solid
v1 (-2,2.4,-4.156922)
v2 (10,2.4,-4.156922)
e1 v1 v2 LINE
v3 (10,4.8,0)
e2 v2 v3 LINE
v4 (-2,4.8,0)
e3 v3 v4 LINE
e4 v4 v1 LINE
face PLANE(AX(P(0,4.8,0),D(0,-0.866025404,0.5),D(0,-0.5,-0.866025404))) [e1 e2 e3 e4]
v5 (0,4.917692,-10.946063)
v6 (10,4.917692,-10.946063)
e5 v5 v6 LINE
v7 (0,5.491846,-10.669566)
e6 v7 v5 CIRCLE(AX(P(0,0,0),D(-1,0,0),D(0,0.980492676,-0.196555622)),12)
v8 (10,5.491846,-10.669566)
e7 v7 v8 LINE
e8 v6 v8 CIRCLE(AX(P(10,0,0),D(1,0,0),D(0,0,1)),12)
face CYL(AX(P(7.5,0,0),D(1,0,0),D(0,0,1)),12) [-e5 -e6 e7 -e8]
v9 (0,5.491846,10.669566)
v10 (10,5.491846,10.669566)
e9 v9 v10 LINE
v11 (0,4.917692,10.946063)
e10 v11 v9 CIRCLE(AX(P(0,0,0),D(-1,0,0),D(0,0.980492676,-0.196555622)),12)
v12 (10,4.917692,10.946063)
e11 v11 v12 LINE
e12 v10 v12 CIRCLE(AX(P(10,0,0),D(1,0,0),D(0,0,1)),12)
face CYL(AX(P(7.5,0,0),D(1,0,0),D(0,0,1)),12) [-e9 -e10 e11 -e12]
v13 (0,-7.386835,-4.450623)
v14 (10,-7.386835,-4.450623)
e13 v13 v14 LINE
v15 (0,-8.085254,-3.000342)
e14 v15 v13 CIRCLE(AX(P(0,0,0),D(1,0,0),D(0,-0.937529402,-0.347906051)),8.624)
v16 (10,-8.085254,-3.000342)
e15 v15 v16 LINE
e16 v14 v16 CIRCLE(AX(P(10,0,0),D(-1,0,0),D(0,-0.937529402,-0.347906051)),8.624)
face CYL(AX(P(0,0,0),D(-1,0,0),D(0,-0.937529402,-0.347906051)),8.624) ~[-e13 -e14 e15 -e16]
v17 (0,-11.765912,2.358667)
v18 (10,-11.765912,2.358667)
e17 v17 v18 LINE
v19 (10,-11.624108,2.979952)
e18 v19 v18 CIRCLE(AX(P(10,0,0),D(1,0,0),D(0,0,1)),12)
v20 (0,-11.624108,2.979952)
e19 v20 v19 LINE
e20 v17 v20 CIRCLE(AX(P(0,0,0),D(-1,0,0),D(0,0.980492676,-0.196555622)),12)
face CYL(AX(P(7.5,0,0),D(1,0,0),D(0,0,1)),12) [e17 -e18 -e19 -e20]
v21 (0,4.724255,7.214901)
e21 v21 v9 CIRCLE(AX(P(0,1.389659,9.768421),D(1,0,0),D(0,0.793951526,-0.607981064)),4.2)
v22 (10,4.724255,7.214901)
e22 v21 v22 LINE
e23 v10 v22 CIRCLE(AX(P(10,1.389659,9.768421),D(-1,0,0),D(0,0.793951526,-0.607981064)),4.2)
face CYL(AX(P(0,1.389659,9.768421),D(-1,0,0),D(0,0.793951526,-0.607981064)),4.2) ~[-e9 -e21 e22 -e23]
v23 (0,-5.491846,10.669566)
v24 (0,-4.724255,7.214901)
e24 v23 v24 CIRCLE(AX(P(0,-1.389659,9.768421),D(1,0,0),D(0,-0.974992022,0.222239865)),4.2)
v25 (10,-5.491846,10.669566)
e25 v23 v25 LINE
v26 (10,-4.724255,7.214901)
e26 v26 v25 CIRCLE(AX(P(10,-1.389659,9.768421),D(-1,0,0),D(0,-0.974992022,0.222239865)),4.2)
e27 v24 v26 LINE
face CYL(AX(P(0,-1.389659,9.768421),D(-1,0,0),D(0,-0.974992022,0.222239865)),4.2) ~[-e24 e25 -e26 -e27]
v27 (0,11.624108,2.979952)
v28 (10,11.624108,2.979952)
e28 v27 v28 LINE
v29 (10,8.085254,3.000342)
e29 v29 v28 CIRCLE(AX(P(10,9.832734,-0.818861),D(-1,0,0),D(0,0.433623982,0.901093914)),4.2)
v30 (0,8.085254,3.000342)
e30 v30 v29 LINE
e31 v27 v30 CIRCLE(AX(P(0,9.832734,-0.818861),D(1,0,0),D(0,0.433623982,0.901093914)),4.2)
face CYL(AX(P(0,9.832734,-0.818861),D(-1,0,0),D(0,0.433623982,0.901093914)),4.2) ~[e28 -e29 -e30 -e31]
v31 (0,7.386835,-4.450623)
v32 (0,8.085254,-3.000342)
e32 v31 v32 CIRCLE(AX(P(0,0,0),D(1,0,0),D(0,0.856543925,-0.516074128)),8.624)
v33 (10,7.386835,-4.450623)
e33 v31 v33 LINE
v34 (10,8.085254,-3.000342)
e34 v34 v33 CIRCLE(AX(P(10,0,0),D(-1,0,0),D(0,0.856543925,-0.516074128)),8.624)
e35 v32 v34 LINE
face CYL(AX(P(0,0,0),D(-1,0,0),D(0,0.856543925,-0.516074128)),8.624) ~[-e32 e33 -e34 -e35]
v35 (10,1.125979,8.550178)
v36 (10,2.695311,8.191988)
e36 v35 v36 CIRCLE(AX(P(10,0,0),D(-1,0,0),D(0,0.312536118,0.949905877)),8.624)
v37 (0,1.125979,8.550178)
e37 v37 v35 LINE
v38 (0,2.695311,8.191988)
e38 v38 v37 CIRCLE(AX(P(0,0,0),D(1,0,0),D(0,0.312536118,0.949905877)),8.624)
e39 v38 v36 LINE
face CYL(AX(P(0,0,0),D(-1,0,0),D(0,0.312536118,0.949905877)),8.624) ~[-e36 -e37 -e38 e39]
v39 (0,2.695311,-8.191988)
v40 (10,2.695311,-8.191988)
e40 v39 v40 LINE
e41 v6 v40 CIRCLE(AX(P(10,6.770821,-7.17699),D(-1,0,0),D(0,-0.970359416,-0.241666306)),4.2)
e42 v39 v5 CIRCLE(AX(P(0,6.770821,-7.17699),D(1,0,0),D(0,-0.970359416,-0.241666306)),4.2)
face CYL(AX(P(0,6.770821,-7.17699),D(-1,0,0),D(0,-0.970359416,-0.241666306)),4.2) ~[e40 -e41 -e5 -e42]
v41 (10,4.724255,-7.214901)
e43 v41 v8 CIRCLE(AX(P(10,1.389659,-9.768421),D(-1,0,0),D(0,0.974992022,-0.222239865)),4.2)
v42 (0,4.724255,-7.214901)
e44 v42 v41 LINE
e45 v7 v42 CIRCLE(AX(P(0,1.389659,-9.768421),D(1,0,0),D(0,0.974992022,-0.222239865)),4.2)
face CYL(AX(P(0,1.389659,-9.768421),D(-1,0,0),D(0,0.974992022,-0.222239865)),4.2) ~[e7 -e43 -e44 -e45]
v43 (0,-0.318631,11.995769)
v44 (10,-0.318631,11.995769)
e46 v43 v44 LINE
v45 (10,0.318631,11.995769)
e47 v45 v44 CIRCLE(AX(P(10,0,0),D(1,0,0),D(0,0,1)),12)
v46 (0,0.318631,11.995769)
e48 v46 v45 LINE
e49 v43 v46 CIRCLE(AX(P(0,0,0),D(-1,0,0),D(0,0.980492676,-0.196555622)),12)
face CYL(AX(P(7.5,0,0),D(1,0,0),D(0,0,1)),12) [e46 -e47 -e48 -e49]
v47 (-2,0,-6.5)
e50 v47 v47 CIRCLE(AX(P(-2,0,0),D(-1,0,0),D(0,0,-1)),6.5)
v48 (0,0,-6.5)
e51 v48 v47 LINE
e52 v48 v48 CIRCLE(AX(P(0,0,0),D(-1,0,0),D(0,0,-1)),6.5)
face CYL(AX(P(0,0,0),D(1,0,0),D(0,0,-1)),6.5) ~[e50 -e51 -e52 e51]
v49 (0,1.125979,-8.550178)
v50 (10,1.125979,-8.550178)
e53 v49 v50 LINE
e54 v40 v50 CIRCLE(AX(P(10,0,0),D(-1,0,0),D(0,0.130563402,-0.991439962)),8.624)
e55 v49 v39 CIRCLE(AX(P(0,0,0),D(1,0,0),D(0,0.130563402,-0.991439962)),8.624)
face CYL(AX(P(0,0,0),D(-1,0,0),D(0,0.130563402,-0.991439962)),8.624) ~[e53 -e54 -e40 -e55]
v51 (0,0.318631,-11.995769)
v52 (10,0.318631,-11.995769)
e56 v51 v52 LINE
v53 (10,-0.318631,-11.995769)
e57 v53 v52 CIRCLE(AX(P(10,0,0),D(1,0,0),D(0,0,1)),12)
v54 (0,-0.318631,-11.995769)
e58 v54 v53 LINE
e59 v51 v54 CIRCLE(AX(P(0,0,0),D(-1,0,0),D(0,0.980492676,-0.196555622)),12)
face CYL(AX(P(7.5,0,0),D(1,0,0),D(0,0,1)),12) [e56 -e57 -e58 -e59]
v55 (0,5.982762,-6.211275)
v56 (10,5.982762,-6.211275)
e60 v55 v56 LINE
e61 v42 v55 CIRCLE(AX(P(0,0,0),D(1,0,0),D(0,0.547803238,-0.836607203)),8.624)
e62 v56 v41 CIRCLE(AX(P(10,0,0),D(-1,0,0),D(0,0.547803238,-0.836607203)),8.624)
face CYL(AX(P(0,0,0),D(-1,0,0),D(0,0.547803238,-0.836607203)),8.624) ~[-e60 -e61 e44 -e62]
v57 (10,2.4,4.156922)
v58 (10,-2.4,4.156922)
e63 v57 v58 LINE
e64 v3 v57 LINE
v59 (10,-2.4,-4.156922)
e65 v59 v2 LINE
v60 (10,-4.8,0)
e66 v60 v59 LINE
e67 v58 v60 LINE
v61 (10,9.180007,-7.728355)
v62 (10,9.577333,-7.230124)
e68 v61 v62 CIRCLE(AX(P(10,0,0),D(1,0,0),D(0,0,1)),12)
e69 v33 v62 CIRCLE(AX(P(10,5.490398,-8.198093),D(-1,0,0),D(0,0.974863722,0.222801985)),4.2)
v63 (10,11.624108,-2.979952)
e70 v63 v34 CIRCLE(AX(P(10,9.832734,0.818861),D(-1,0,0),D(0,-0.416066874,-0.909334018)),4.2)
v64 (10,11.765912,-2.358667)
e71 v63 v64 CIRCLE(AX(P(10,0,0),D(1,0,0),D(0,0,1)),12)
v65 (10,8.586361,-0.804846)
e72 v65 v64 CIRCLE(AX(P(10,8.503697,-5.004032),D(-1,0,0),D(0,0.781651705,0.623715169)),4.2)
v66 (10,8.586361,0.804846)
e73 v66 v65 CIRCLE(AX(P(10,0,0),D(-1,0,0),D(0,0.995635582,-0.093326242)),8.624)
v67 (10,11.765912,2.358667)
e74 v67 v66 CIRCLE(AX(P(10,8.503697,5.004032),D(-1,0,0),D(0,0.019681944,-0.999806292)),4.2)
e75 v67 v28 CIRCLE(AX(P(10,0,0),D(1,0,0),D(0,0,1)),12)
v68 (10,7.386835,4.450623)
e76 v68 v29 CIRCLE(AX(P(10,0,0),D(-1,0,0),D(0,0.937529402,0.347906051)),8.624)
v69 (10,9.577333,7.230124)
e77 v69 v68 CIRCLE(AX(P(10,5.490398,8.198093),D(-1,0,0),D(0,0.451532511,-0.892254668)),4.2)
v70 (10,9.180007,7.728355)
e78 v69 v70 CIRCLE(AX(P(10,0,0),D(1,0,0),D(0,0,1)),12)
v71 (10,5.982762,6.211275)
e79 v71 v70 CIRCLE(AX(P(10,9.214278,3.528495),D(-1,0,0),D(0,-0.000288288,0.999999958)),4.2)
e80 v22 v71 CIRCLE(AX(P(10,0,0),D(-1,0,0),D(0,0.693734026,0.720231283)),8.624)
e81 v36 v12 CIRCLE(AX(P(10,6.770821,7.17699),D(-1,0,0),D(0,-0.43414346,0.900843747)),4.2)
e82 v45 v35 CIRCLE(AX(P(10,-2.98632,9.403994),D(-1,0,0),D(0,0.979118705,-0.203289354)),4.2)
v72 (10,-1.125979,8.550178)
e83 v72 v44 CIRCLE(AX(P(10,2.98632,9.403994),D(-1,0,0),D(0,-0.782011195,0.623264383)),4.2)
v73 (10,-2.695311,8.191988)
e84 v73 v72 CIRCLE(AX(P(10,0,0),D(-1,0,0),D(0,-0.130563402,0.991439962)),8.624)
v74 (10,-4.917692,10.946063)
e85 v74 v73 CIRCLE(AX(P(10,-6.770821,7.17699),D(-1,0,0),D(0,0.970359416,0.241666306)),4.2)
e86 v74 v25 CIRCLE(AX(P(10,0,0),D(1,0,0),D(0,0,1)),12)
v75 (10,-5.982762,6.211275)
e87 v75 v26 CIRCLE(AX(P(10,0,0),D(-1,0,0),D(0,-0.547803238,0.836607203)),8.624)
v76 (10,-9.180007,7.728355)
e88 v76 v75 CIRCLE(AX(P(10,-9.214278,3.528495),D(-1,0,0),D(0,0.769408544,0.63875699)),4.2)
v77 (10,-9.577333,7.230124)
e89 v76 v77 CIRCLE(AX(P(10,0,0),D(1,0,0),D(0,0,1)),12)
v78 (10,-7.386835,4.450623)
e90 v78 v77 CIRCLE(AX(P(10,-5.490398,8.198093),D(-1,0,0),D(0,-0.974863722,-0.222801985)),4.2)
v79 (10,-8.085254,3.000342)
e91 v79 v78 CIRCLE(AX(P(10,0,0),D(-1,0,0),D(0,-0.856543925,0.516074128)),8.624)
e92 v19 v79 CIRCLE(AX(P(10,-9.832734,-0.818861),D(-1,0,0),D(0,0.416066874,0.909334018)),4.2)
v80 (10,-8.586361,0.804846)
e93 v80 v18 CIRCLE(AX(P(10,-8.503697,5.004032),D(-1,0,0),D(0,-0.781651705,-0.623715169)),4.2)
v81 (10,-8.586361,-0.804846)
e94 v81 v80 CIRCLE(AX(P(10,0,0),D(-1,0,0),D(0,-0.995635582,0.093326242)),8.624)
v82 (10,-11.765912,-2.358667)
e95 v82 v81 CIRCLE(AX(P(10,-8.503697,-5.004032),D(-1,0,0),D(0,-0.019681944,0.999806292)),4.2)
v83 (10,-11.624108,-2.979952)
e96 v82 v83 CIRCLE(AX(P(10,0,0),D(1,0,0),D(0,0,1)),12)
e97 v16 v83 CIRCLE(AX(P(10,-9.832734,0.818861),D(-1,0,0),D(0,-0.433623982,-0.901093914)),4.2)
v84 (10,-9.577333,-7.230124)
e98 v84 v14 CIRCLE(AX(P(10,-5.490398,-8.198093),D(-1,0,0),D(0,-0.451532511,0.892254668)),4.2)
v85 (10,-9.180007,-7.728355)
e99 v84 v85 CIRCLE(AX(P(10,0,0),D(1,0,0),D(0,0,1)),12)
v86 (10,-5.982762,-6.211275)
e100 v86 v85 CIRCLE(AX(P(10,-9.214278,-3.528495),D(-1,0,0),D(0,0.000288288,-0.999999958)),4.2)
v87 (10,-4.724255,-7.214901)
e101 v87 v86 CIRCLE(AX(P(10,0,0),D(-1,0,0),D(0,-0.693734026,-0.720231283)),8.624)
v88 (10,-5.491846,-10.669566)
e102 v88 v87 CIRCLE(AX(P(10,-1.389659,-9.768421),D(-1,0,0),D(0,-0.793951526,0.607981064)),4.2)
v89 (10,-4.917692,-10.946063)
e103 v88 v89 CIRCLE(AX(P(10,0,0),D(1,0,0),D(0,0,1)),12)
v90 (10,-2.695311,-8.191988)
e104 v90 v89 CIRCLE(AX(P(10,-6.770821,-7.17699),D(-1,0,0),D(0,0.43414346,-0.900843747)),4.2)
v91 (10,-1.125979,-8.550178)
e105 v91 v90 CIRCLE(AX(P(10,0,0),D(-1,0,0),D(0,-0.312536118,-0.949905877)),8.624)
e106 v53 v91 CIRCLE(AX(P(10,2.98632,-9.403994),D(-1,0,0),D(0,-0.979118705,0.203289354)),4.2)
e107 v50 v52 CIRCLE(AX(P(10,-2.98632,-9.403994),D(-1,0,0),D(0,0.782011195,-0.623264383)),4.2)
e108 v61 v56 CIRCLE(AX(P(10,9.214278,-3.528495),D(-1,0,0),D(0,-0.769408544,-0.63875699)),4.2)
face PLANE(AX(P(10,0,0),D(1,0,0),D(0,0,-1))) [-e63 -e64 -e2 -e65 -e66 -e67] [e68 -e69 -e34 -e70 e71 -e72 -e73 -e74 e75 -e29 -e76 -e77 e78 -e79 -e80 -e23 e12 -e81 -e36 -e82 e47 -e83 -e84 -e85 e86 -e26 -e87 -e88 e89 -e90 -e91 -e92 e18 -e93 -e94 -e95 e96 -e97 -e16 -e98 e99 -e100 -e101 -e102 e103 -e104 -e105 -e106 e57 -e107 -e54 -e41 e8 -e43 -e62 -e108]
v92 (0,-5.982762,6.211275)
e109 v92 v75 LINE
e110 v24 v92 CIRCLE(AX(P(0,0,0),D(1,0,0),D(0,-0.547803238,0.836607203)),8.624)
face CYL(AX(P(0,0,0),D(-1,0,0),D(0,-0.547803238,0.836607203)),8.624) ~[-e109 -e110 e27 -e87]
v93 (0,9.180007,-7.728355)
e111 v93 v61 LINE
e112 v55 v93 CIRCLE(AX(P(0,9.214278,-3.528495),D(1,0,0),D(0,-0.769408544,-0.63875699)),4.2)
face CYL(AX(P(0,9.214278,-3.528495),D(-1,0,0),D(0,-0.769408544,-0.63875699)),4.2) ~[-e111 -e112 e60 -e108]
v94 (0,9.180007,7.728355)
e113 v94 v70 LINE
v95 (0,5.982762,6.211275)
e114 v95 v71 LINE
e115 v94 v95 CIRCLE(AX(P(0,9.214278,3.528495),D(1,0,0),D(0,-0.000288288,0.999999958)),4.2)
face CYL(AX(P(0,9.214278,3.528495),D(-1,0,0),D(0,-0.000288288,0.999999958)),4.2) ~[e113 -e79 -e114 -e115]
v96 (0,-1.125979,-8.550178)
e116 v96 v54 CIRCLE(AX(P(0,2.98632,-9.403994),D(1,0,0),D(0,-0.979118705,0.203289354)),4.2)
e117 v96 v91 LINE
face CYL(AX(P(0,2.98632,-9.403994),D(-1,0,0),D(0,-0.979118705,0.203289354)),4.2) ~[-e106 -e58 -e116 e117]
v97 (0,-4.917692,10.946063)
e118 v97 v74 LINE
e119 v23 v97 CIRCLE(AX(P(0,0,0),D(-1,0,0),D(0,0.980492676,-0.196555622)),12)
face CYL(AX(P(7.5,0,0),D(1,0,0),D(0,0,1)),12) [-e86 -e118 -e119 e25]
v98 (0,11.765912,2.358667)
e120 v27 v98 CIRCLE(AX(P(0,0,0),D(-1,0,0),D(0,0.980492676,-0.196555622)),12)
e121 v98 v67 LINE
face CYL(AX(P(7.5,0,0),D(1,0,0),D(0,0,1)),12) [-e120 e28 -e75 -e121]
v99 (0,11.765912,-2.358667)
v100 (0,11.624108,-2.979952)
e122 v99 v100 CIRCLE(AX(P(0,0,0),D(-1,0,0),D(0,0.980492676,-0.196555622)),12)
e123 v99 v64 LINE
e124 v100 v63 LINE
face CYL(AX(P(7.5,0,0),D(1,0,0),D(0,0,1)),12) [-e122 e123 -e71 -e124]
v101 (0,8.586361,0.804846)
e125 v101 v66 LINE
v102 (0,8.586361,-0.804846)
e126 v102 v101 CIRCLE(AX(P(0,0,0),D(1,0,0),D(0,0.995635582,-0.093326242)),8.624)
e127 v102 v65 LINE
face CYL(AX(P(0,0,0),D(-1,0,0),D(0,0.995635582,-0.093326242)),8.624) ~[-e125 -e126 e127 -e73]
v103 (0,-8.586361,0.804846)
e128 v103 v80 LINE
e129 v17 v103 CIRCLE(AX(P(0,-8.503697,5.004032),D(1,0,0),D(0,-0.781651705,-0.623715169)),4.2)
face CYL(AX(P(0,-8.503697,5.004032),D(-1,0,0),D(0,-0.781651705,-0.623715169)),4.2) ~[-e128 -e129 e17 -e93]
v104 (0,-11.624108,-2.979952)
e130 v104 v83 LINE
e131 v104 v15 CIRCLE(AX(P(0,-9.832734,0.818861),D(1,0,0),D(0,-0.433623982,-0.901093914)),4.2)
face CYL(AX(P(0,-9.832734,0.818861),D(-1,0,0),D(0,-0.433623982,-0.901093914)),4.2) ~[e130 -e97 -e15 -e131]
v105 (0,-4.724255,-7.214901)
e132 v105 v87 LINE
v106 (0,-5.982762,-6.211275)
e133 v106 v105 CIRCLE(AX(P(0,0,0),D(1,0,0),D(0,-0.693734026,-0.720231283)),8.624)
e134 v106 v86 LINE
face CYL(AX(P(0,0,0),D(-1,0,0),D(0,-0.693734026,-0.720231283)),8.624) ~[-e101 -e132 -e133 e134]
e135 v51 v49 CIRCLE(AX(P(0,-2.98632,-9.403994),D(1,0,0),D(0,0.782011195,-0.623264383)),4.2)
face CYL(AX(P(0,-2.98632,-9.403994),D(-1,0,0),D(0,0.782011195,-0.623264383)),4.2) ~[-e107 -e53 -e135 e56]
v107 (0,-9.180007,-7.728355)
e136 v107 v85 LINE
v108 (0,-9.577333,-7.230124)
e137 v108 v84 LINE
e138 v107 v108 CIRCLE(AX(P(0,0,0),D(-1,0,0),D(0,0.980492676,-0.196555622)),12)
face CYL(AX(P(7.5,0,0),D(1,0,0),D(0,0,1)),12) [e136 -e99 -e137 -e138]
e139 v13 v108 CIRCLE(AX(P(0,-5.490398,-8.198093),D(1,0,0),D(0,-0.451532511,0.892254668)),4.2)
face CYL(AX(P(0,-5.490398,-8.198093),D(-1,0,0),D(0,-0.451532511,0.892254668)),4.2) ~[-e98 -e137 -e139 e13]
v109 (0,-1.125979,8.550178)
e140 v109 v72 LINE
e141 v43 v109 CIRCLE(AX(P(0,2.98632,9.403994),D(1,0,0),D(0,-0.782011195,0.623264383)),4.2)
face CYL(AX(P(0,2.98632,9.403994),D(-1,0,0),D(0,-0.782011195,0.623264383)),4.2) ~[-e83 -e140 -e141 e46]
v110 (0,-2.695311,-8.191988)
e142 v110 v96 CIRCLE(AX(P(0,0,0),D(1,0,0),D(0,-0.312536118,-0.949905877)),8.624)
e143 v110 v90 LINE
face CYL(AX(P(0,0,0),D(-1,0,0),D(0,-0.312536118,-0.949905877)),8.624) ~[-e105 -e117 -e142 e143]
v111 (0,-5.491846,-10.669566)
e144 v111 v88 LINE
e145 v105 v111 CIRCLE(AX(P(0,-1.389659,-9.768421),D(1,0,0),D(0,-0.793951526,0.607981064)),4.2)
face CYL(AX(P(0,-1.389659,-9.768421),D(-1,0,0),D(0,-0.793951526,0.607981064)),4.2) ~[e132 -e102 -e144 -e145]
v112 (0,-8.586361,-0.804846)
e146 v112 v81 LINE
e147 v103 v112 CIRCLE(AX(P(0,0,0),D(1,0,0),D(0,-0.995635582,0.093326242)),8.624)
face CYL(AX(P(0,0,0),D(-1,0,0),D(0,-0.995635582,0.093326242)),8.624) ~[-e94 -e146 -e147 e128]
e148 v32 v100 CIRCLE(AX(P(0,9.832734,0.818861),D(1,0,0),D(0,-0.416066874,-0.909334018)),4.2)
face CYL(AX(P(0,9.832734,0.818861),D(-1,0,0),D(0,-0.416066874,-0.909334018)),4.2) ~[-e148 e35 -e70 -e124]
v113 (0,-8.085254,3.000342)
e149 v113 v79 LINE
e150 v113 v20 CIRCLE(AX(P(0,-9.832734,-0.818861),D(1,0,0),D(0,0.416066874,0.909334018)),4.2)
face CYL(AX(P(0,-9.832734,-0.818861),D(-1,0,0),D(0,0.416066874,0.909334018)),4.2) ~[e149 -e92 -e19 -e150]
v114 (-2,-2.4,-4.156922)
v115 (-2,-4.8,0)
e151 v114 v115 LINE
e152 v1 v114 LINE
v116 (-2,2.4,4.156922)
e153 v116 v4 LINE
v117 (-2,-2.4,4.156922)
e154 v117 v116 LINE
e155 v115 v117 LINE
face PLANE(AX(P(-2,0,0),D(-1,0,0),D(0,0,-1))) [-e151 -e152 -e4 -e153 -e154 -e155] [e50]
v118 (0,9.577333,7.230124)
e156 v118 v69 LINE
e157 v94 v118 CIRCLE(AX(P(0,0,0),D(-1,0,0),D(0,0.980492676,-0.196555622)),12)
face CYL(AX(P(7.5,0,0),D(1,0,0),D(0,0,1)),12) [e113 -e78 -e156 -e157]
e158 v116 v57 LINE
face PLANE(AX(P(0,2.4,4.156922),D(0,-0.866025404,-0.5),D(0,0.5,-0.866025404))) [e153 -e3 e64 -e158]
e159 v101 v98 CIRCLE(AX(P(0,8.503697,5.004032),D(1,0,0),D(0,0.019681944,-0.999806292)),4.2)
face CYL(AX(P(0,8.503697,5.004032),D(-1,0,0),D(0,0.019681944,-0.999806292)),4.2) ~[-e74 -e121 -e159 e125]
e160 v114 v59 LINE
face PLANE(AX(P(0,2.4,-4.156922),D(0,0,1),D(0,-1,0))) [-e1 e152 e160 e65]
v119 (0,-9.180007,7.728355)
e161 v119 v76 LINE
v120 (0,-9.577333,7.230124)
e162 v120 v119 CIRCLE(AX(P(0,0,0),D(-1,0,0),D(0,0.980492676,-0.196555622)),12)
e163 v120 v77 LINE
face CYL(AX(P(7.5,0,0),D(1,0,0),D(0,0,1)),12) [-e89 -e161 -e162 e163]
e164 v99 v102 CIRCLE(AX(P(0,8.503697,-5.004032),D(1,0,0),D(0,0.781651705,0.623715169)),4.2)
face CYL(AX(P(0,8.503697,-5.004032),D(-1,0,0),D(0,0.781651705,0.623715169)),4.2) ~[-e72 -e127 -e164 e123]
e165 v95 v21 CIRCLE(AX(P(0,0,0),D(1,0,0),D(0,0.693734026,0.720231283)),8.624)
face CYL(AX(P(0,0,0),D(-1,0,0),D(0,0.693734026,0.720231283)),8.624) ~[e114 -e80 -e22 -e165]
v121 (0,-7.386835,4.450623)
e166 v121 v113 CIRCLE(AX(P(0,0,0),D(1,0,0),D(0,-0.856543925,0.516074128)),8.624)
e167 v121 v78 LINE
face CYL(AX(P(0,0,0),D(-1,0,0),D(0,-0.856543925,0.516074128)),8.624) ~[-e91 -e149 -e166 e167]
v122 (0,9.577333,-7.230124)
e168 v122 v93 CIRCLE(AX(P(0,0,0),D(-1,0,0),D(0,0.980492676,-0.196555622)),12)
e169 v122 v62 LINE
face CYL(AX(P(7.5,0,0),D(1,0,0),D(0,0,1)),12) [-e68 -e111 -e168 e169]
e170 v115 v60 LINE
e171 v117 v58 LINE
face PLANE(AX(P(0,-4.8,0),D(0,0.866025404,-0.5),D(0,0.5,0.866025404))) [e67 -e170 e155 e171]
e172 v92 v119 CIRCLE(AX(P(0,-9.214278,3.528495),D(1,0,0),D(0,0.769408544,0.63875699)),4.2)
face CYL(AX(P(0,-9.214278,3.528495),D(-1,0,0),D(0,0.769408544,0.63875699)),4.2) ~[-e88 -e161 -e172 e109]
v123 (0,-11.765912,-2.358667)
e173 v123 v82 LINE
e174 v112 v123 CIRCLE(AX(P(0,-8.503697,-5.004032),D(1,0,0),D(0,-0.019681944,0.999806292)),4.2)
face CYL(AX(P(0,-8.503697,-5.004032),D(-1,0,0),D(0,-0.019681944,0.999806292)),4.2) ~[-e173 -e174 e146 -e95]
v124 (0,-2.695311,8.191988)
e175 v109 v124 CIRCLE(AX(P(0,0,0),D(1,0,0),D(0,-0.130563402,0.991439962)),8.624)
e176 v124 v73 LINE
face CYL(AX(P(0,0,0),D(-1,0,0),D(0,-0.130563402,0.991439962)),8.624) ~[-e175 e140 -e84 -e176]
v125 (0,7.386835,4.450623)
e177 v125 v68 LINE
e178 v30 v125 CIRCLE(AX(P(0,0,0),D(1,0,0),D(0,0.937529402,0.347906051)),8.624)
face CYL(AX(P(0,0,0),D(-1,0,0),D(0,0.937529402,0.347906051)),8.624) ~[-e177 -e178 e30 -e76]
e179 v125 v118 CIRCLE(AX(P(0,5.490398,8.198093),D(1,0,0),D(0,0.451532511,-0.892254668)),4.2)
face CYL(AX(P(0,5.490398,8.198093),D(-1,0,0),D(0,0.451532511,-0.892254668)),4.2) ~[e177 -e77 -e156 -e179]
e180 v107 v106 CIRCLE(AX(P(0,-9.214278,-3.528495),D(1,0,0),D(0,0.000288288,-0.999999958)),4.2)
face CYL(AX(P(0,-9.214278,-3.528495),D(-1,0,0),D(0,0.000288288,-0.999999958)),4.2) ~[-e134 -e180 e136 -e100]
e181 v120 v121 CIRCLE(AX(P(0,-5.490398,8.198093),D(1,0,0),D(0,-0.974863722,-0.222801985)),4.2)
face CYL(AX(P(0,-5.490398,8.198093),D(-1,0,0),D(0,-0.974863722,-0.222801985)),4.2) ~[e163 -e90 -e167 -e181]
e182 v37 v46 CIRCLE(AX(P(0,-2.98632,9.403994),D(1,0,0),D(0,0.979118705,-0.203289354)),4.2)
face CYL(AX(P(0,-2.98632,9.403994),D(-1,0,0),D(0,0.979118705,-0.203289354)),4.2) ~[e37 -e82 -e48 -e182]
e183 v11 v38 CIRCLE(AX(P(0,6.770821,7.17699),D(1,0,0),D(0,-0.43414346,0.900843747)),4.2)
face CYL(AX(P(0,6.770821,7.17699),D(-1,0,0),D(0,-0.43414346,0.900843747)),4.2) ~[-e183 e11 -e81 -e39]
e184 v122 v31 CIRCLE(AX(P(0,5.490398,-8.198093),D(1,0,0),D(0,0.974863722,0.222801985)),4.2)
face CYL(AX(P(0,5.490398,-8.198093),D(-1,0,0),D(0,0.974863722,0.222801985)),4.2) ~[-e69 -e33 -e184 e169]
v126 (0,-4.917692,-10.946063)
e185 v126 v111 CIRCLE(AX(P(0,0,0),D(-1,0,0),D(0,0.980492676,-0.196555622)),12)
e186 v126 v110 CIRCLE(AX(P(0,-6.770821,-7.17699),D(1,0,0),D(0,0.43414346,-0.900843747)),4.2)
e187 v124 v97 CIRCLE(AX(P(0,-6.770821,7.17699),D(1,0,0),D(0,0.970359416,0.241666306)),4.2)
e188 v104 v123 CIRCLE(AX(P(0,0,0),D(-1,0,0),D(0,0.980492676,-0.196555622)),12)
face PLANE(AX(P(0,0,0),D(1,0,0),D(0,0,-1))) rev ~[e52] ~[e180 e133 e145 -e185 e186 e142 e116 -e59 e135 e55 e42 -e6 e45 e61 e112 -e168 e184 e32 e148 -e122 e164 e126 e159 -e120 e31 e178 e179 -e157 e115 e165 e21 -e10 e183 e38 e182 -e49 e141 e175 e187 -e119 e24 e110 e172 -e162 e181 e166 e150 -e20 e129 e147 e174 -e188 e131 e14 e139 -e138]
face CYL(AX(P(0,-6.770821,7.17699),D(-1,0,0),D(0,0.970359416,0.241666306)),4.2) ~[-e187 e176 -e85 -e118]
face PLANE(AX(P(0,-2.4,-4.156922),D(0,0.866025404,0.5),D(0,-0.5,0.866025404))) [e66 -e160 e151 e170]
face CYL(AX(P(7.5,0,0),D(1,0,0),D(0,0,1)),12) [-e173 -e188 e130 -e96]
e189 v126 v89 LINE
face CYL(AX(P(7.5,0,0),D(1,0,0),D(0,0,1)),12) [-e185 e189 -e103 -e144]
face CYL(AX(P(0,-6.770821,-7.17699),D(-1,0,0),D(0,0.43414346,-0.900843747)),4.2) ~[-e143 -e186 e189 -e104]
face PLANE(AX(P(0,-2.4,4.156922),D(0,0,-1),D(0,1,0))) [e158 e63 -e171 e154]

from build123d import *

# Parameters (mm, degrees)
BASPROSKE_W              = 15
BASPROSKE_H              = 12
TOOTHCUT_DEPTH           = 23.649503306
TEETHCUTS_COUNT          = 14
TEETHCUTS_ANGLE          = 334.285714286
BORSKE_R                 = 4
BORE_DEPTH               = 50.0000508
ESBO_O3_R                = 4
ESBO_O3_R_2              = 3
RESSALTO_EXTRUS_O2_DEPTH = 15
ESBO_O4_R                = 14.250212497
CORTE_EXTRUS_O2_DEPTH    = 5
CORTE_EXTRUS_O3_DEPTH    = 20.555988541
ESBO_O7_R                = 6.5
RESSALTO_EXTRUS_O4_DEPTH = 2


with BuildPart() as part:
    # BasProSke → Base-Revolve (revolve)
    with BuildSketch(Plane(origin=(0, 0, 0), x_dir=(1, 0, 0), z_dir=(0, 1, 0)), mode=Mode.PRIVATE) as base_revolve_sk:
        with Locations((7.5, 6)):
            Rectangle(BASPROSKE_W, BASPROSKE_H)
    revolve(base_revolve_sk.sketch.rotate(Axis((-10, 0, 0), (1, 0, 0)), 180), axis=Axis((-10, 0, 0), (1, 0, 0)))

    # TooCutSke → ToothCut (cut, through all)
    with BuildSketch(Plane(origin=(0, 0, 0), x_dir=(0, 0, -1), z_dir=(1, 0, 0))):
        with BuildLine():
            ThreePointArc((0.804845511, 8.586361261), (0, 8.624), (-0.804845511, 8.586361261))
            ThreePointArc((-0.804845511, 8.586361261), (-1.237812142, 10.362618414), (-2.384428228, 11.78663426))
            ThreePointArc((-2.384428228, 11.78663426), (0, 12.0254), (2.384428228, 11.78663426))
            ThreePointArc((2.384428228, 11.78663426), (1.237812142, 10.362618414), (0.804845511, 8.586361261))
        make_face()
    toothcut = extrude(amount=TOOTHCUT_DEPTH, mode=Mode.SUBTRACT)

    # TeethCuts: ToothCut ×14 about axis
    teethcuts_axis = Axis((-10, 0, 0), (1, 0, 0))
    for i in range(1, TEETHCUTS_COUNT):
        add(toothcut.rotate(teethcuts_axis, i * TEETHCUTS_ANGLE / (TEETHCUTS_COUNT - 1)), mode=Mode.SUBTRACT)

    # BorSke → Bore (cut, symmetric)
    with BuildSketch(Plane(origin=(0, 0, 0), x_dir=(0, 0, -1), z_dir=(1, 0, 0))):
        with Locations(Location((0, 0, 0), (0, 0, 180))):
            Circle(BORSKE_R)
    extrude(amount=BORE_DEPTH, both=True, mode=Mode.SUBTRACT)

    # Esboço3 → Ressalto-extrusão2 (add)
    with BuildSketch(Plane(origin=(15, 0, 0), x_dir=(0, 0, -1), z_dir=(1, 0, 0))):
        Circle(ESBO_O3_R)
        Circle(ESBO_O3_R_2, mode=Mode.SUBTRACT)
    extrude(amount=-RESSALTO_EXTRUS_O2_DEPTH)

    # Esboço4 → Corte-extrusão2 (cut)
    with BuildSketch(Plane(origin=(15, 0, 0), x_dir=(0, 0, -1), z_dir=(1, 0, 0))):
        Circle(ESBO_O4_R)
    extrude(amount=-CORTE_EXTRUS_O2_DEPTH, mode=Mode.SUBTRACT)

    # Esboço5 → Corte-extrusão3 (cut, through all)
    with BuildSketch(Plane.ZY):
        Polygon((4.156921938, 2.4), (0, 4.8), (-4.156921938, 2.4), (-4.156921938, -2.4), (0, -4.8), (4.156921938, -2.4), align=None)
    extrude(amount=-CORTE_EXTRUS_O3_DEPTH, mode=Mode.SUBTRACT)

    # Esboço7 → Ressalto-extrusão4 (add)
    with BuildSketch(Plane.ZY):
        with Locations(Location((0, 0, 0), (0, 0, 180))):
            Circle(ESBO_O7_R)
        Polygon((0, 4.8), (-4.156921938, 2.4), (-4.156921938, -2.4), (0, -4.8), (4.156921938, -2.4), (4.156921938, 2.4), align=None, mode=Mode.SUBTRACT)
    extrude(amount=RESSALTO_EXTRUS_O4_DEPTH)


solid = part.part
